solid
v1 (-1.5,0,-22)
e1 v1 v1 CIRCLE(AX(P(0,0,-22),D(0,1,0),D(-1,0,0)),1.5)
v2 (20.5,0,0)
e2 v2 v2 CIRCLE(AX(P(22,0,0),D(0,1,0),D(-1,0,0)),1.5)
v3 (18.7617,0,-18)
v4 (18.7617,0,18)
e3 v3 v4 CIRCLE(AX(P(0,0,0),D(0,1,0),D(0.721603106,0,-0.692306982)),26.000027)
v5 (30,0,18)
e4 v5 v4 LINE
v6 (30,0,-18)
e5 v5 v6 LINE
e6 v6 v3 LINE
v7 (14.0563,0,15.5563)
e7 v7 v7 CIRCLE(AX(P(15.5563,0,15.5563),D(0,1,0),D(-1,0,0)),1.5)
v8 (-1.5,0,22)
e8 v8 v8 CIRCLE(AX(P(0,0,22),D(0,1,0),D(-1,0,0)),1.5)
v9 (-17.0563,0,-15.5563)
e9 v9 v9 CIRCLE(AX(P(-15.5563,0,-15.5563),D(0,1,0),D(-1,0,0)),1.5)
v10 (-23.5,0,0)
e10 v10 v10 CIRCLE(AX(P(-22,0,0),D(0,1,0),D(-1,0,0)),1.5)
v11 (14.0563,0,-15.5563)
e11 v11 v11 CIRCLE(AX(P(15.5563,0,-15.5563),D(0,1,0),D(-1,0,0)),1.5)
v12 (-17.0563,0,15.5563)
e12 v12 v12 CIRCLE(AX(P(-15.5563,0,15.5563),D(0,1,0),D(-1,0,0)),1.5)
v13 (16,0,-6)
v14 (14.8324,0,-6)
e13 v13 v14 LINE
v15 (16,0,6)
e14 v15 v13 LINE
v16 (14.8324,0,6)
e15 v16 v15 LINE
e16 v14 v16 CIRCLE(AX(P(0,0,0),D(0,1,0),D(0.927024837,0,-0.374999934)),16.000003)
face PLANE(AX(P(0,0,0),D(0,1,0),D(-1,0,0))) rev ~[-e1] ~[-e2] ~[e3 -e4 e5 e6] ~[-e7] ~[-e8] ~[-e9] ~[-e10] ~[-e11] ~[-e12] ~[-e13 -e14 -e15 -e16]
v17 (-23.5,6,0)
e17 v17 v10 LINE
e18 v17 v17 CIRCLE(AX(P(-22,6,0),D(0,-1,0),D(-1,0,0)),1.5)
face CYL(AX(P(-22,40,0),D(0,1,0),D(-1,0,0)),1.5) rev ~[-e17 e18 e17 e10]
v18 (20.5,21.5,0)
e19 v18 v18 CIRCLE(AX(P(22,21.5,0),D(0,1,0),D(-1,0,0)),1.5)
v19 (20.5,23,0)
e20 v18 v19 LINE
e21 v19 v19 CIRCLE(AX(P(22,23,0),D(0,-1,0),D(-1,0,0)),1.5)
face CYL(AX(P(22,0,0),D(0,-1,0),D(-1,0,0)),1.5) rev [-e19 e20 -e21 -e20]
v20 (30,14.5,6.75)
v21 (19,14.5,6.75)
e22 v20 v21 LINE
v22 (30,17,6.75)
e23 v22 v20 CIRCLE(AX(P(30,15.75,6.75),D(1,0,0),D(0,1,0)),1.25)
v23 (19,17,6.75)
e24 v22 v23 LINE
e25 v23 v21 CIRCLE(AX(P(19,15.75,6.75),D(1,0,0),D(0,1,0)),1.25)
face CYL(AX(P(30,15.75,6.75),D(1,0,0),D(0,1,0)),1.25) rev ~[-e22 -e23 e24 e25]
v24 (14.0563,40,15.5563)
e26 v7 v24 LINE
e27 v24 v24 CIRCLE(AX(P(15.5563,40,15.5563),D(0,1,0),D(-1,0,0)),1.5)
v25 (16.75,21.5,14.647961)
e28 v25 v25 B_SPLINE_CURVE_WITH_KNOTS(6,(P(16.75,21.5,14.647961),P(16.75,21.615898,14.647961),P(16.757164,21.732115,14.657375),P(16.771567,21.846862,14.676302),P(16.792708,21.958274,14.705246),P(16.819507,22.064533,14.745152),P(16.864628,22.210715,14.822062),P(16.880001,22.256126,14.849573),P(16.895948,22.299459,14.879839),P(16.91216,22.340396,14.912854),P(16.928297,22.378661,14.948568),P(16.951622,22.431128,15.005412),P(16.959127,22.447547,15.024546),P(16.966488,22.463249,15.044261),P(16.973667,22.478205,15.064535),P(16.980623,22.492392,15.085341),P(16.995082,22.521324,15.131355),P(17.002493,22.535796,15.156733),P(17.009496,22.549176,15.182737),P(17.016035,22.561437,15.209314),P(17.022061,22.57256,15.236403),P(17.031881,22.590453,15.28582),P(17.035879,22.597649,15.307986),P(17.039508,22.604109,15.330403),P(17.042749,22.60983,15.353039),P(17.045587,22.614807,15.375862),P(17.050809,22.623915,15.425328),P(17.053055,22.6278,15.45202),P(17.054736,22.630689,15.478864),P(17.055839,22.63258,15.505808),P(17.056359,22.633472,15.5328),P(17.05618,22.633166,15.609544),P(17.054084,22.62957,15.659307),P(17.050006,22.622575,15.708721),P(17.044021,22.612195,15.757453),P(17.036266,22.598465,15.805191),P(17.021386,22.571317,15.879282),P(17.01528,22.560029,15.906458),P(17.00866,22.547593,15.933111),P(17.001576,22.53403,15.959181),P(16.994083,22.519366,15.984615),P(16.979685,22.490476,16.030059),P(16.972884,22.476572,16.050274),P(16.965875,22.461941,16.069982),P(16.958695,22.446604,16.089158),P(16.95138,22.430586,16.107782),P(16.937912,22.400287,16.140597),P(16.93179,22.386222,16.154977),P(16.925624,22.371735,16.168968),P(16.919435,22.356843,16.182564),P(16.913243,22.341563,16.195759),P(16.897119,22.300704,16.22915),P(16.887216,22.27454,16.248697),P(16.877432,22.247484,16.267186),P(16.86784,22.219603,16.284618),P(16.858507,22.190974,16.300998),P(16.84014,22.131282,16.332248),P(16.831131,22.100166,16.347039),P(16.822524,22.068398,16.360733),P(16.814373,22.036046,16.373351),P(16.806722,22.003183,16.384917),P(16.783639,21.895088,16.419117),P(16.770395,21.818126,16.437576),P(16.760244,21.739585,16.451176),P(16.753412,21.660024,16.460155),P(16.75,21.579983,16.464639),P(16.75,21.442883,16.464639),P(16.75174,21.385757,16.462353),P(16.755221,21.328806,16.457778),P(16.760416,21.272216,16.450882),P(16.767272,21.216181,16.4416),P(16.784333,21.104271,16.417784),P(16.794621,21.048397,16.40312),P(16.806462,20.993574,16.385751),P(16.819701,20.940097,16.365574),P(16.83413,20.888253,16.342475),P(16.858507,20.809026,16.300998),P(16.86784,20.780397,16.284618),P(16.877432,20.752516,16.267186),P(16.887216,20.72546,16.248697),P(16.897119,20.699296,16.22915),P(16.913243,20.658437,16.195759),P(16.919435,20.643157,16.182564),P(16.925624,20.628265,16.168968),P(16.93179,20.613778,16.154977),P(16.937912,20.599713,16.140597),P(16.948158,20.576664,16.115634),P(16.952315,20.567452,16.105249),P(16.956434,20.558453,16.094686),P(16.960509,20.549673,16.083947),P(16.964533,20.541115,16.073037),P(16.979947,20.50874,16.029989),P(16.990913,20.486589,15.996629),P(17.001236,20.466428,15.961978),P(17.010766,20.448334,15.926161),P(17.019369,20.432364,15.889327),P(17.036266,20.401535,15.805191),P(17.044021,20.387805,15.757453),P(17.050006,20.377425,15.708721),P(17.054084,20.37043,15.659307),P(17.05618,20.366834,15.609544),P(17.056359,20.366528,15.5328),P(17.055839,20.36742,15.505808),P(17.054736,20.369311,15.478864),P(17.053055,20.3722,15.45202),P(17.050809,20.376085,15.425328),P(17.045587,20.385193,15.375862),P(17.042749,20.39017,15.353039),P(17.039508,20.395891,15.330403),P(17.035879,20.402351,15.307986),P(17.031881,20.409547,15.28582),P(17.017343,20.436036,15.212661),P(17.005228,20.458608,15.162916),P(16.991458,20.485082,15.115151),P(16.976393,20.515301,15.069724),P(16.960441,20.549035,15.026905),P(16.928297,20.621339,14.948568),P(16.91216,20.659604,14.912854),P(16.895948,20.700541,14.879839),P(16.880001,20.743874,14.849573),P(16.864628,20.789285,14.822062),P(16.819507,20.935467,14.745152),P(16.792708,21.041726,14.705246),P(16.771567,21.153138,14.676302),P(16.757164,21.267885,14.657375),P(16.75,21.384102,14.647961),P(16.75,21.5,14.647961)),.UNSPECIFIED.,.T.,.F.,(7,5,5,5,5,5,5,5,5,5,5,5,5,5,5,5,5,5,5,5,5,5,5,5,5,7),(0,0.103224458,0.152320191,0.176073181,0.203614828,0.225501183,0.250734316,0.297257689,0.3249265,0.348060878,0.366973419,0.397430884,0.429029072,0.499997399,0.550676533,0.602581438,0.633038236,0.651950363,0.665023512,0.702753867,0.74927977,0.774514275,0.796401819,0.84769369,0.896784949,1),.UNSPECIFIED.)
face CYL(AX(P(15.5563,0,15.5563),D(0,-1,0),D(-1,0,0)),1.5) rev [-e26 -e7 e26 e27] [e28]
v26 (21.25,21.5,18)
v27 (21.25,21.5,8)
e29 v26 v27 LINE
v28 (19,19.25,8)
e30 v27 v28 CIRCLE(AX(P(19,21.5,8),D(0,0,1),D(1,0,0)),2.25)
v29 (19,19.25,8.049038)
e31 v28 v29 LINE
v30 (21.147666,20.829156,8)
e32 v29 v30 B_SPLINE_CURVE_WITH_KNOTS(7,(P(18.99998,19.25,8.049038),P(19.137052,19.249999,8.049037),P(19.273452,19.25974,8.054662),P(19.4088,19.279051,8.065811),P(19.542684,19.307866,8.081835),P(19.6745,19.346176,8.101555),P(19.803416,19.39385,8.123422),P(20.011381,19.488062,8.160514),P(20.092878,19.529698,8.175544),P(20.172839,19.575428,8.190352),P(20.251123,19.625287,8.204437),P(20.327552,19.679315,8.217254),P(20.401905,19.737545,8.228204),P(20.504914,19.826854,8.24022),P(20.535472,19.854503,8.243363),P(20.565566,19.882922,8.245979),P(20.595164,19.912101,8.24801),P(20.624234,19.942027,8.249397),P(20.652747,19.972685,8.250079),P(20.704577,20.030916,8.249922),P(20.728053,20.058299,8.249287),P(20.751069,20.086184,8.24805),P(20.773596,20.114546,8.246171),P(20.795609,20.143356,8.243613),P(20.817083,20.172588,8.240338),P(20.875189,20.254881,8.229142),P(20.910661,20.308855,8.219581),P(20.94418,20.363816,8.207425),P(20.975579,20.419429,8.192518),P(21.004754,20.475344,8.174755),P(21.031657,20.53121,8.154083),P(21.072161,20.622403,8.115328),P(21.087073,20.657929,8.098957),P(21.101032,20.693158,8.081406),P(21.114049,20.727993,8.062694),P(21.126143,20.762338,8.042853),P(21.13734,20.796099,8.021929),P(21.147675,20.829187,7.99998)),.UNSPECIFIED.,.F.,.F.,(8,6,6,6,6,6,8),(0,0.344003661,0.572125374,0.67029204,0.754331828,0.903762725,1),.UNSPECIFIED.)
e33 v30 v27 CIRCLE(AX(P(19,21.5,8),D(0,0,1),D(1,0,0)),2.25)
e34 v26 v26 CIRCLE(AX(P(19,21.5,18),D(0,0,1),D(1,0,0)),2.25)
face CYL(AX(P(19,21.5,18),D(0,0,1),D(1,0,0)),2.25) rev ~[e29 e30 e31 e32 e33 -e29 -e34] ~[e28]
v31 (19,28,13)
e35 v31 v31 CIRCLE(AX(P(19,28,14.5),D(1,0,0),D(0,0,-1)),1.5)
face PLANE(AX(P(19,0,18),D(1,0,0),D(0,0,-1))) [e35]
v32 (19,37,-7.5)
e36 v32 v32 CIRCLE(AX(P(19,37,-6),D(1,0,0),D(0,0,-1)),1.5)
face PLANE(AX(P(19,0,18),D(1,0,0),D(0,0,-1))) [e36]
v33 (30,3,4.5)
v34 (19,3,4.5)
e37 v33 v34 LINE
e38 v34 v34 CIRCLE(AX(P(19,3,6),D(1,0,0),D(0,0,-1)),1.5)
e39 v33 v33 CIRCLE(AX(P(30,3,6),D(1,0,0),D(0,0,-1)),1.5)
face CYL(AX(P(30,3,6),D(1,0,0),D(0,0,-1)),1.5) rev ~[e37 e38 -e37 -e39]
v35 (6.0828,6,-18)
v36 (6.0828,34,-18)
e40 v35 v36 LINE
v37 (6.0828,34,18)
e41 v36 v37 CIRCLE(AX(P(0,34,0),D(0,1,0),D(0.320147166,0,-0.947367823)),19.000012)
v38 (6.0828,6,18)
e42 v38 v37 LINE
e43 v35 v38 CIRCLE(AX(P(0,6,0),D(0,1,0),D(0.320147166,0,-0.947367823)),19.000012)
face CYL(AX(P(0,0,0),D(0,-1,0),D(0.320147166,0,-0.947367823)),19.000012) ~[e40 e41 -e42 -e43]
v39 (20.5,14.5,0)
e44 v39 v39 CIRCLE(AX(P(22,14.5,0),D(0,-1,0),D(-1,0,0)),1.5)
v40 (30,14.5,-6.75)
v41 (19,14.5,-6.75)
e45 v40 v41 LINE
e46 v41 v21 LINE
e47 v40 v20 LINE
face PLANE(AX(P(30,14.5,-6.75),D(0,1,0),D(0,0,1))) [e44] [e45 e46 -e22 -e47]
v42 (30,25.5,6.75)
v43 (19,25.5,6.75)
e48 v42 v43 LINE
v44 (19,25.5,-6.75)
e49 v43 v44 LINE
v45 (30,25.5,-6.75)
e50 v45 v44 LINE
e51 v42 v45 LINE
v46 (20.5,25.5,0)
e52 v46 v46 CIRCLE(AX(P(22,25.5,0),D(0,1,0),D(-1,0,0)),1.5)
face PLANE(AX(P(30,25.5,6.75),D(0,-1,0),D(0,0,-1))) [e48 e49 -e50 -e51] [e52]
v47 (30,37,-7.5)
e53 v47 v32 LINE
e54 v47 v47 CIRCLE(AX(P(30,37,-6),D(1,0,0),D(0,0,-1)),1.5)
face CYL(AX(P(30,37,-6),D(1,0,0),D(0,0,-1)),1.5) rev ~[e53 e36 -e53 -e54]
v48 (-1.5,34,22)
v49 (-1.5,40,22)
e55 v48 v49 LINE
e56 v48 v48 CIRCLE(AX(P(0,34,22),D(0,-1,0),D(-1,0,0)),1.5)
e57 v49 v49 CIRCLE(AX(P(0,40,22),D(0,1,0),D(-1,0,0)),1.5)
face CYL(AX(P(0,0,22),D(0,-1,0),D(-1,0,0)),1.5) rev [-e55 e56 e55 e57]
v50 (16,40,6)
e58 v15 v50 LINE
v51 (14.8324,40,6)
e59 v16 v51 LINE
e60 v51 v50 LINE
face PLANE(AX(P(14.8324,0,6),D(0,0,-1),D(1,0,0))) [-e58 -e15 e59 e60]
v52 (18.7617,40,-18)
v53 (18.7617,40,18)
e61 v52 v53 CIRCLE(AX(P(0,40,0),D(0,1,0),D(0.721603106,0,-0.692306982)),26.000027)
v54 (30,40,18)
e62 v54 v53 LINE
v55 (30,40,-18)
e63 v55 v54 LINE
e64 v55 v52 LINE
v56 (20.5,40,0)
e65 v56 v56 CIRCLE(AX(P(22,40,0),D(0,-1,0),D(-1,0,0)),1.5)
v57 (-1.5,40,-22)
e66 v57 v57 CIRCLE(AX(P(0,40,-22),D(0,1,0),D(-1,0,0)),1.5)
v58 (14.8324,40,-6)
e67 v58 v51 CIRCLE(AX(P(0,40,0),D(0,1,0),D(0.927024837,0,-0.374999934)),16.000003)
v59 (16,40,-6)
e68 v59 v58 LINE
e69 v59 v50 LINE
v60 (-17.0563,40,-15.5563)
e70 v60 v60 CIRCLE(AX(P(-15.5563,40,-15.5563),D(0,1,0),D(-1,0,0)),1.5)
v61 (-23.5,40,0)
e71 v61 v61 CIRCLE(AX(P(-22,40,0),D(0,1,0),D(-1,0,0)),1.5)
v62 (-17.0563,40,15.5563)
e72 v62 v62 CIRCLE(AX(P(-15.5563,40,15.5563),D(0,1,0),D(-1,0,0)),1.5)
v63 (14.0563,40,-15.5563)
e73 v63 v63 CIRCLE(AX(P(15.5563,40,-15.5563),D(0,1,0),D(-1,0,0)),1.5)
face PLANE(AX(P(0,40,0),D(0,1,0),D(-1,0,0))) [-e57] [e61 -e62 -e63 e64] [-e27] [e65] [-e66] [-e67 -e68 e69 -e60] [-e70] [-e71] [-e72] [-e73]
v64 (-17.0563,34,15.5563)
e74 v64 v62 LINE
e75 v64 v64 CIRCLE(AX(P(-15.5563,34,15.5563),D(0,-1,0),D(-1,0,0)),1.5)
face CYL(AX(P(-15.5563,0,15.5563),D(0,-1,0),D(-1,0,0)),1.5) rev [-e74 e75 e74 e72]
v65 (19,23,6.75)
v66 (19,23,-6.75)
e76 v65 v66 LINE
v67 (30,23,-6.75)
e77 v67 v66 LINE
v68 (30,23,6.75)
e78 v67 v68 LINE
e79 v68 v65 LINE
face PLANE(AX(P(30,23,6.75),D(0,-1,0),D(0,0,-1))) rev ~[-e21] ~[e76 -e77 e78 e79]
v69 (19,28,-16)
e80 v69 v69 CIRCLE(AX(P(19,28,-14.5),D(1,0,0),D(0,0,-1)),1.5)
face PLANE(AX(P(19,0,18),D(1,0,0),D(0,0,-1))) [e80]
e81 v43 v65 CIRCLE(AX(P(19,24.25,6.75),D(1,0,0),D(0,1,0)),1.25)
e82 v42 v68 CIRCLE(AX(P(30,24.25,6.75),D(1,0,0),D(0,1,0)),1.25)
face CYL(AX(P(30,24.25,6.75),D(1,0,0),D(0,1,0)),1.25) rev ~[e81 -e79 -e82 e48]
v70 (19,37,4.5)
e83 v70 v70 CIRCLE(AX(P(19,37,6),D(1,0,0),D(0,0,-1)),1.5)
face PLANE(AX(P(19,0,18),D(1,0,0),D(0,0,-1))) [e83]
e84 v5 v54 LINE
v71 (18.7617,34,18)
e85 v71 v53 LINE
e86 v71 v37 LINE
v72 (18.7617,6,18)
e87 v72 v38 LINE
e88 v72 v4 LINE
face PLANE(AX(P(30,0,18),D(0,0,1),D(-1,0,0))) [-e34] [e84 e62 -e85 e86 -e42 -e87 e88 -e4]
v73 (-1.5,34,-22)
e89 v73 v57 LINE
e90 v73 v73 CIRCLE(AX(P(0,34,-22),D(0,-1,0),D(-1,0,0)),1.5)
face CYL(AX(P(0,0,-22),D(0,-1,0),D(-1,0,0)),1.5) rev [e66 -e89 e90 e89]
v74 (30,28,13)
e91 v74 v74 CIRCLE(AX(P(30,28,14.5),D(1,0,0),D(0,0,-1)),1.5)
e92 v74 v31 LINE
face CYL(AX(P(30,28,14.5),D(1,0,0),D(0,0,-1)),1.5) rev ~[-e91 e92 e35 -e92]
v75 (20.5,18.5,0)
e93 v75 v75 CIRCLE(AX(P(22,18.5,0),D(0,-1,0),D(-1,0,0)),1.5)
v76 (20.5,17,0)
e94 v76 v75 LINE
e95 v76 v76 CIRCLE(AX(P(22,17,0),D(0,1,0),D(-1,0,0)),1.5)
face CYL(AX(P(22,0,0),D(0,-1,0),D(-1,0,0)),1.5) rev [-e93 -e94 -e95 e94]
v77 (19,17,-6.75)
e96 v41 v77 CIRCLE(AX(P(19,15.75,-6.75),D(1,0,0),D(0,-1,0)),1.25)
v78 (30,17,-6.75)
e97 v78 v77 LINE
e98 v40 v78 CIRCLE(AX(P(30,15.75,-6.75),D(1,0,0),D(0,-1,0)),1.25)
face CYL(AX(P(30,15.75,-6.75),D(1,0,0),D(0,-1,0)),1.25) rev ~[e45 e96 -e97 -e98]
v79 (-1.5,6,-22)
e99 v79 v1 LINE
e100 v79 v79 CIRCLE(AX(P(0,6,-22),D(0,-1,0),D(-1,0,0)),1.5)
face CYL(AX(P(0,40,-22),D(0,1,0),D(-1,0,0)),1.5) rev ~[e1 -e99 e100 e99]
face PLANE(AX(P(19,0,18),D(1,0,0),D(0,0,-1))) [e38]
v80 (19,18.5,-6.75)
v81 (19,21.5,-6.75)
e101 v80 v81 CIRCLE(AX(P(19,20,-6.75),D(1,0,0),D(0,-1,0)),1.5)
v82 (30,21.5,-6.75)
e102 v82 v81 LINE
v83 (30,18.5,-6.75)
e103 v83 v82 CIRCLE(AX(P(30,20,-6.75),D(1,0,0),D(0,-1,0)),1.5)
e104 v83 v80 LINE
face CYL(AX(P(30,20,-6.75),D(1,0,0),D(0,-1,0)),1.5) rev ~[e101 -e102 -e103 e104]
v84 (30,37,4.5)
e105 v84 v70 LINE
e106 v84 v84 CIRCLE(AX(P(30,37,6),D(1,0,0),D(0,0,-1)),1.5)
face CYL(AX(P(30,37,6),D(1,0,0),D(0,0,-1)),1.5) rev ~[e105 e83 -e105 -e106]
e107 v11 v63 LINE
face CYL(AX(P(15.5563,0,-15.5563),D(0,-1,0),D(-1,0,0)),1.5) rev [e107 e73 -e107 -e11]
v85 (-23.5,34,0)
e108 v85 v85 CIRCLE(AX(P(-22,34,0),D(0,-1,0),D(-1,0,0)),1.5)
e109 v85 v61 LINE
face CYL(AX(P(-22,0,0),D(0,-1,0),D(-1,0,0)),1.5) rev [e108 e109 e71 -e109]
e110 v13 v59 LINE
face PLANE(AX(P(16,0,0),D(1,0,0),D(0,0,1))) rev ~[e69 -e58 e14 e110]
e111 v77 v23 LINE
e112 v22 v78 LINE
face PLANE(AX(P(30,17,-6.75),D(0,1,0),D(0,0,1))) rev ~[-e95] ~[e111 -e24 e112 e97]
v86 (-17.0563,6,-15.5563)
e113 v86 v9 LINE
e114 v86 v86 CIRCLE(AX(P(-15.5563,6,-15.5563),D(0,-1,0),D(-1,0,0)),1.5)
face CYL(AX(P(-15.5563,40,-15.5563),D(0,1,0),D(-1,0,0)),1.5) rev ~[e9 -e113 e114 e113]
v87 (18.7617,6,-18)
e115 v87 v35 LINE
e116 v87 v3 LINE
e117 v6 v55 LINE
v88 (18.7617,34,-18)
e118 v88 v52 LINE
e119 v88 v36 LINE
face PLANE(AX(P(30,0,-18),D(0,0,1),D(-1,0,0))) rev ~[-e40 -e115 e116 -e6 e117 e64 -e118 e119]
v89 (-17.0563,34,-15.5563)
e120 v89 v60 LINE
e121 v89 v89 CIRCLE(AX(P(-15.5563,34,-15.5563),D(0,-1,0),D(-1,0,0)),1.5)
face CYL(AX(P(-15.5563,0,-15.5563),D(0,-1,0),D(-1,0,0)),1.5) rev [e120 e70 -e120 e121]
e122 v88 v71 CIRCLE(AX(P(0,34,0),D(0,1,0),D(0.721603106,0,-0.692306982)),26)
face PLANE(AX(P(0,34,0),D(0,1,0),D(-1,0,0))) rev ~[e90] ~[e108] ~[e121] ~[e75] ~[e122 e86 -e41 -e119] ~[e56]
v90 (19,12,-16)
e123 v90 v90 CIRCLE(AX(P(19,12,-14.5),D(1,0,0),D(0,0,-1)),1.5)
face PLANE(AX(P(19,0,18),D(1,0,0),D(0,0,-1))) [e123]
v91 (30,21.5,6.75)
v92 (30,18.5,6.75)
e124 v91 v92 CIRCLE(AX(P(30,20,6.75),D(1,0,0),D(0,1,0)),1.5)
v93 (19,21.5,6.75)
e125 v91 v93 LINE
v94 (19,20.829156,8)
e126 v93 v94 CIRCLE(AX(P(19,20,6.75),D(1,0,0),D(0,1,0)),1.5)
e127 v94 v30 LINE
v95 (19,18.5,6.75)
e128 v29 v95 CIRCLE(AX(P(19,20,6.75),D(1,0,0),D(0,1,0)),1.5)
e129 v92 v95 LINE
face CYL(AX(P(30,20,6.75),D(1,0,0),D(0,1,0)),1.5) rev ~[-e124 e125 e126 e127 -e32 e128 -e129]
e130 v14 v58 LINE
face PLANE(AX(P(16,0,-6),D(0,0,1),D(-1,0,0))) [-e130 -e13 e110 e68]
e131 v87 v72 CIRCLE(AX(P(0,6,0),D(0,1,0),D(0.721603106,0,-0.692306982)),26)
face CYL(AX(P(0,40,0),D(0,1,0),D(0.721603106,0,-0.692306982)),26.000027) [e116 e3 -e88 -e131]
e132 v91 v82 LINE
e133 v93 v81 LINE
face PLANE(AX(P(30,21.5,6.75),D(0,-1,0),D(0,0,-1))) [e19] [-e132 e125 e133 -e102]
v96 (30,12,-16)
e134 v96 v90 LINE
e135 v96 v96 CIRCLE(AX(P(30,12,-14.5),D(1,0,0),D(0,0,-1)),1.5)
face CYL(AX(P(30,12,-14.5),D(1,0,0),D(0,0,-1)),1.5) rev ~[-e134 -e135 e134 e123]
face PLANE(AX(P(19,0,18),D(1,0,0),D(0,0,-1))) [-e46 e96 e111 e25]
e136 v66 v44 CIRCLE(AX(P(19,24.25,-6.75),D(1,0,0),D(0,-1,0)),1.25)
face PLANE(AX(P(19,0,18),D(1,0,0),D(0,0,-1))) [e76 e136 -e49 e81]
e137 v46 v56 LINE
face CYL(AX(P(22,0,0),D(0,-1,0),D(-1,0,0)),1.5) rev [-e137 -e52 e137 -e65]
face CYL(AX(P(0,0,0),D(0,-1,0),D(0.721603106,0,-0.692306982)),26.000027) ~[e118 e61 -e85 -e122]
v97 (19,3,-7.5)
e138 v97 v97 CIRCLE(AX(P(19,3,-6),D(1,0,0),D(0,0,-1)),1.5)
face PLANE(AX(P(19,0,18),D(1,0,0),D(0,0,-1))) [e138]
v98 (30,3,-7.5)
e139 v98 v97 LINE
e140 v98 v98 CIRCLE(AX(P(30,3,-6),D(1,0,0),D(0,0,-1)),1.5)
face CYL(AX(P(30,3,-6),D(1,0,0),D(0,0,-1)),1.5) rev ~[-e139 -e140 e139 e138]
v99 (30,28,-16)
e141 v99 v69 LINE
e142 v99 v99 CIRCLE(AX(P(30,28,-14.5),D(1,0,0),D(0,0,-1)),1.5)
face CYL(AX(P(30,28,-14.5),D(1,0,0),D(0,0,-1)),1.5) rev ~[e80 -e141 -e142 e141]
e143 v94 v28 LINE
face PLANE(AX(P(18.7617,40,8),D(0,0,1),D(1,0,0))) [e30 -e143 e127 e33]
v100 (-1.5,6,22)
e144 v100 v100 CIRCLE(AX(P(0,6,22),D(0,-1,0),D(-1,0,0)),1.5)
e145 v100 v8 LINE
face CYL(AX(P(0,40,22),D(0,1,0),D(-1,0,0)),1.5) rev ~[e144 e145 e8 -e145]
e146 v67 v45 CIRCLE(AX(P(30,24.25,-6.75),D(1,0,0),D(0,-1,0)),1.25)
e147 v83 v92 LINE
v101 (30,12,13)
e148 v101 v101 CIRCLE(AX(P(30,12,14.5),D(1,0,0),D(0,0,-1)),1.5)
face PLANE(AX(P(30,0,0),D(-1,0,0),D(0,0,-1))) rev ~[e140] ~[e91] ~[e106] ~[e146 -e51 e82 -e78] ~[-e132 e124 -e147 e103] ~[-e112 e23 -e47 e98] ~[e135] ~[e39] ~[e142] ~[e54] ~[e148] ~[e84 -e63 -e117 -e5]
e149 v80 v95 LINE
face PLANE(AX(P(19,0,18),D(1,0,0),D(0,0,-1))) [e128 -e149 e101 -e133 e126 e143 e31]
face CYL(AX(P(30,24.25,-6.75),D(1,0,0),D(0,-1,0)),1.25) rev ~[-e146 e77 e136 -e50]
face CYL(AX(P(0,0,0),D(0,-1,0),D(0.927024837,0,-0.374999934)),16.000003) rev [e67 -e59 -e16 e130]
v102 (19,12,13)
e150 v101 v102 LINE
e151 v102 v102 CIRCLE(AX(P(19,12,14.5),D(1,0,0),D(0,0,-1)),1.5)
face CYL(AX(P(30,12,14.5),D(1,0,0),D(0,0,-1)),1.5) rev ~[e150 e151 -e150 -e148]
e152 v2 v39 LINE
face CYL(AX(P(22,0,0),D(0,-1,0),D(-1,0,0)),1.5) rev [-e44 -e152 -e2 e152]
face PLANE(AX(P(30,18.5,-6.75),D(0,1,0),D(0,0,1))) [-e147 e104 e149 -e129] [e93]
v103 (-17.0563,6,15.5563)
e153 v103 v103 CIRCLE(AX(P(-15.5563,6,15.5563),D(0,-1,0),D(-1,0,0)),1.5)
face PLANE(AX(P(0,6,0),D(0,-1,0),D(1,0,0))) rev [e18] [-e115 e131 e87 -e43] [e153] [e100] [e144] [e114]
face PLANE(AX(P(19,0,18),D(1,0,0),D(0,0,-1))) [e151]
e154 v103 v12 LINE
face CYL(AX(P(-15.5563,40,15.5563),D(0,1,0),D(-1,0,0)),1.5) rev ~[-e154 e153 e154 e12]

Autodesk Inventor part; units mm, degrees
ref_plane "YZ Plane" through (0, 0, 0) normal (1, 0, 0) x (0, 1, 0)
sketch "Sketch2" plane through (0, 0, 0) normal (0, 1, 0) x (-1, 0, 0)
  arc A0 (-18.7617, -18) -> (-18.7617, 18) centre (0, 0) ccw
  arc A1 (-14.8324, -6) -> (-14.8324, 6) centre (0, 0) ccw
  line L0 (-16, 0) -> (-16, -6)
  line L1 (-16, 0) -> (-16, 6)
  line L2 (-16, 6) -> (-14.8324, 6) construction
  line L3 (-16, -6) -> (-14.8324, -6)
  circle A2 centre (22, 0) radius 1.5
  circle A3 centre (15.5563, 15.5563) radius 1.5
  circle A4 centre (0, 22) radius 1.5
  circle A5 centre (-15.5563, 15.5563) radius 1.5
  circle A6 centre (-22, 0) radius 1.5
  circle A7 centre (-15.5563, -15.5563) radius 1.5
  circle A8 centre (0, -22) radius 1.5
  circle A9 centre (15.5563, -15.5563) radius 1.5
  line L4 (-14.8324, 6) -> (-16, 6)
  line L5 (-30, 0) -> (-30, -18)
  line L6 (-30, -18) -> (-30, 18)
  line L7 (-30, 18) -> (-18.7617, 18)
  line L8 (-30, -18) -> (-18.7617, -18)
  arc A10 (-21.9489, 1.4991) -> (-22, 0) centre (0, 0) ccw
  line L9 (0, 0) -> (-16, 0)
  line L10 (-20.5, 0) -> (-22, 0)
  dimension "d10" = 360
  dimension "d2" = 52
  dimension "d3" = 32
  dimension "d4" = 6
  dimension "d5" = 6
  dimension "d6" = 3
  dimension "d7" = 30
  dimension "d8" = 18
  dimension "d9" = 36
  dimension "d36" = 22
  dimension "d37" = 0
  dimension "d38" = 18
  dimension "d39" = 0
  dimension "d40" = 16
  dimension "d41" = 38
extrude "Extrusion1" add sketch "Sketch2" along normal blind 40
ref_plane "Work Plane1" through (0, 0, 0) normal (0, 1, 0) x (-1, 0, 0)
sketch "Sketch6" plane through (0, 0, 0) normal (0, 1, 0) x (-1, 0, 0)
  arc A0 (-6.0828, -18) -> (-6.0828, 18) centre (0, 0) ccw
  circle A1 centre (0, 0) radius 26
  arc A2 (-18.7617, -18) -> (-18.7617, 18) centre (0, 0) ccw
  line L0 (-18.7617, 18) -> (-6.0828, 18)
  line L1 (-18.7617, -18) -> (-6.0828, -18)
  dimension "d31" = 38
  dimension "d32" = 52
  dimension "d73" = 26
  dimension "d74" = 36
  dimension "d75" = 18
  dimension "d76" = 18
  dimension "d77" = 0
sketch "Sketch4" plane through (30, 0, 18) normal (1, 0, 0) x (0, 0, -1)
  circle A0 centre (12, 3) radius 1.5
  circle A1 centre (3.5, 12) radius 1.5
  line L0 (0, 3) -> (0, 37) construction
  line L1 (0, 20) -> (36, 20) construction
  circle A2 centre (3.5, 28) radius 1.5
  circle A3 centre (12, 37) radius 1.5
  line L2 (16.5, 40) -> (19.5, 40) construction
  line L3 (18, 40) -> (18, 0) construction
  line L4 (19.5, 0) -> (16.5, 0) construction
  circle A4 centre (24, 37) radius 1.5
  circle A5 centre (32.5, 28) radius 1.5
  circle A6 centre (32.5, 12) radius 1.5
  circle A7 centre (24, 3) radius 1.5
  line L5 (-1, 37) -> (-1, 3)
  line L6 (37, 37) -> (37, 3)
  arc A8 (11.25, 21.5) -> (11.25, 18.5) centre (11.25, 20) ccw
  arc A9 (24.75, 18.5) -> (24.75, 21.5) centre (24.75, 20) ccw
  line L7 (24.75, 21.5) -> (24.75, 23)
  arc A10 (24.75, 23) -> (24.75, 25.5) centre (24.75, 24.25) ccw
  arc A11 (11.25, 25.5) -> (11.25, 23) centre (11.25, 24.25) ccw
  line L8 (24.75, 14.5) -> (11.25, 14.5)
  line L9 (24.75, 17) -> (11.25, 17)
  arc A12 (11.25, 17) -> (11.25, 14.5) centre (11.25, 15.75) ccw
  arc A13 (24.75, 14.5) -> (24.75, 17) centre (24.75, 15.75) ccw
  line L10 (11.25, 21.5) -> (24.75, 21.5)
  line L11 (24.75, 18.5) -> (11.25, 18.5)
  line L12 (11.25, 25.5) -> (24.75, 25.5)
  line L13 (11.25, 23) -> (24.75, 23)
  point P0 (18, 0)
  point P1 (0, 40)
  point P2 (36, 3)
  point P3 (18, 0)
  dimension "d18" = 3
  dimension "d21" = 3
  dimension "d22" = 3
  dimension "d23" = 1.5
  dimension "d24" = 2.5
  dimension "d25" = 2.5
  dimension "d26" = 2.5
  dimension "d42" = 12.25
  dimension "d43" = 19
  dimension "d44" = 37
  dimension "d45" = 38
  dimension "d46" = 25.5
  dimension "d47" = 20
  dimension "d48" = 17
  dimension "d49" = 40
  dimension "d50" = 19
  dimension "d51" = 0
  dimension "d52" = 37
  dimension "d53" = 3
  dimension "d54" = 1
  dimension "d55" = 1
  dimension "d56" = 3
  dimension "d57" = 4.5
  dimension "d58" = 28
  dimension "d59" = 12.25
  dimension "d60" = 13
  dimension "d61" = 37
  dimension "d62" = 17.5
  dimension "d63" = 17.5
  dimension "d64" = 19
  dimension "d65" = 0
  dimension "d66" = 25.75
  dimension "d67" = 25.75
  dimension "d68" = 37
  dimension "d69" = 40
  dimension "d70" = 37
  dimension "d71" = 37
  dimension "d72" = 3
extrude "Extrusion5" cut sketch "Sketch4" against normal blind 11
extrude "Extrusion6" cut sketch "Sketch6" along normal blind 34 contours A0 L0 A1 L1 picked at (-12.9468, 19.3038)
ref_plane "Work Plane2" through (0, 20, 0) normal (0, 1, 0) x (-1, 0, 0)
mirror "Mirror1" about plane through (0, 20, 0) normal (0, 1, 0)
sketch "Sketch9" plane through (18.7617, 40, 18) normal (0, 0, 1) x (1, 0, 0)
  line L0 (-12.6789, -34) -> (0, -34) projected
  line L1 (0, -34) -> (0, -40) projected
  line L2 (11.2383, -40) -> (0, -40) projected
  line L3 (11.2383, -40) -> (11.2383, 0) projected
  line L4 (0, 0) -> (11.2383, 0) projected
  line L5 (0, -6) -> (0, 0) projected
  line L6 (0, -6) -> (-12.6789, -6) projected
  line L7 (-12.6789, -34) -> (-12.6789, -6) projected
  line L8 (11.2383, -18.5) -> (0.2383, -18.5) projected
  circle A0 centre (0.2383, -18.5) radius 2.25
  point P0 (-18.7617, -40)
  dimension "d81" = 4.5
extrude "Extrusion8" cut sketch "Sketch9" against normal blind 10 contours A0
properties part number "reverse gear cylinder"
